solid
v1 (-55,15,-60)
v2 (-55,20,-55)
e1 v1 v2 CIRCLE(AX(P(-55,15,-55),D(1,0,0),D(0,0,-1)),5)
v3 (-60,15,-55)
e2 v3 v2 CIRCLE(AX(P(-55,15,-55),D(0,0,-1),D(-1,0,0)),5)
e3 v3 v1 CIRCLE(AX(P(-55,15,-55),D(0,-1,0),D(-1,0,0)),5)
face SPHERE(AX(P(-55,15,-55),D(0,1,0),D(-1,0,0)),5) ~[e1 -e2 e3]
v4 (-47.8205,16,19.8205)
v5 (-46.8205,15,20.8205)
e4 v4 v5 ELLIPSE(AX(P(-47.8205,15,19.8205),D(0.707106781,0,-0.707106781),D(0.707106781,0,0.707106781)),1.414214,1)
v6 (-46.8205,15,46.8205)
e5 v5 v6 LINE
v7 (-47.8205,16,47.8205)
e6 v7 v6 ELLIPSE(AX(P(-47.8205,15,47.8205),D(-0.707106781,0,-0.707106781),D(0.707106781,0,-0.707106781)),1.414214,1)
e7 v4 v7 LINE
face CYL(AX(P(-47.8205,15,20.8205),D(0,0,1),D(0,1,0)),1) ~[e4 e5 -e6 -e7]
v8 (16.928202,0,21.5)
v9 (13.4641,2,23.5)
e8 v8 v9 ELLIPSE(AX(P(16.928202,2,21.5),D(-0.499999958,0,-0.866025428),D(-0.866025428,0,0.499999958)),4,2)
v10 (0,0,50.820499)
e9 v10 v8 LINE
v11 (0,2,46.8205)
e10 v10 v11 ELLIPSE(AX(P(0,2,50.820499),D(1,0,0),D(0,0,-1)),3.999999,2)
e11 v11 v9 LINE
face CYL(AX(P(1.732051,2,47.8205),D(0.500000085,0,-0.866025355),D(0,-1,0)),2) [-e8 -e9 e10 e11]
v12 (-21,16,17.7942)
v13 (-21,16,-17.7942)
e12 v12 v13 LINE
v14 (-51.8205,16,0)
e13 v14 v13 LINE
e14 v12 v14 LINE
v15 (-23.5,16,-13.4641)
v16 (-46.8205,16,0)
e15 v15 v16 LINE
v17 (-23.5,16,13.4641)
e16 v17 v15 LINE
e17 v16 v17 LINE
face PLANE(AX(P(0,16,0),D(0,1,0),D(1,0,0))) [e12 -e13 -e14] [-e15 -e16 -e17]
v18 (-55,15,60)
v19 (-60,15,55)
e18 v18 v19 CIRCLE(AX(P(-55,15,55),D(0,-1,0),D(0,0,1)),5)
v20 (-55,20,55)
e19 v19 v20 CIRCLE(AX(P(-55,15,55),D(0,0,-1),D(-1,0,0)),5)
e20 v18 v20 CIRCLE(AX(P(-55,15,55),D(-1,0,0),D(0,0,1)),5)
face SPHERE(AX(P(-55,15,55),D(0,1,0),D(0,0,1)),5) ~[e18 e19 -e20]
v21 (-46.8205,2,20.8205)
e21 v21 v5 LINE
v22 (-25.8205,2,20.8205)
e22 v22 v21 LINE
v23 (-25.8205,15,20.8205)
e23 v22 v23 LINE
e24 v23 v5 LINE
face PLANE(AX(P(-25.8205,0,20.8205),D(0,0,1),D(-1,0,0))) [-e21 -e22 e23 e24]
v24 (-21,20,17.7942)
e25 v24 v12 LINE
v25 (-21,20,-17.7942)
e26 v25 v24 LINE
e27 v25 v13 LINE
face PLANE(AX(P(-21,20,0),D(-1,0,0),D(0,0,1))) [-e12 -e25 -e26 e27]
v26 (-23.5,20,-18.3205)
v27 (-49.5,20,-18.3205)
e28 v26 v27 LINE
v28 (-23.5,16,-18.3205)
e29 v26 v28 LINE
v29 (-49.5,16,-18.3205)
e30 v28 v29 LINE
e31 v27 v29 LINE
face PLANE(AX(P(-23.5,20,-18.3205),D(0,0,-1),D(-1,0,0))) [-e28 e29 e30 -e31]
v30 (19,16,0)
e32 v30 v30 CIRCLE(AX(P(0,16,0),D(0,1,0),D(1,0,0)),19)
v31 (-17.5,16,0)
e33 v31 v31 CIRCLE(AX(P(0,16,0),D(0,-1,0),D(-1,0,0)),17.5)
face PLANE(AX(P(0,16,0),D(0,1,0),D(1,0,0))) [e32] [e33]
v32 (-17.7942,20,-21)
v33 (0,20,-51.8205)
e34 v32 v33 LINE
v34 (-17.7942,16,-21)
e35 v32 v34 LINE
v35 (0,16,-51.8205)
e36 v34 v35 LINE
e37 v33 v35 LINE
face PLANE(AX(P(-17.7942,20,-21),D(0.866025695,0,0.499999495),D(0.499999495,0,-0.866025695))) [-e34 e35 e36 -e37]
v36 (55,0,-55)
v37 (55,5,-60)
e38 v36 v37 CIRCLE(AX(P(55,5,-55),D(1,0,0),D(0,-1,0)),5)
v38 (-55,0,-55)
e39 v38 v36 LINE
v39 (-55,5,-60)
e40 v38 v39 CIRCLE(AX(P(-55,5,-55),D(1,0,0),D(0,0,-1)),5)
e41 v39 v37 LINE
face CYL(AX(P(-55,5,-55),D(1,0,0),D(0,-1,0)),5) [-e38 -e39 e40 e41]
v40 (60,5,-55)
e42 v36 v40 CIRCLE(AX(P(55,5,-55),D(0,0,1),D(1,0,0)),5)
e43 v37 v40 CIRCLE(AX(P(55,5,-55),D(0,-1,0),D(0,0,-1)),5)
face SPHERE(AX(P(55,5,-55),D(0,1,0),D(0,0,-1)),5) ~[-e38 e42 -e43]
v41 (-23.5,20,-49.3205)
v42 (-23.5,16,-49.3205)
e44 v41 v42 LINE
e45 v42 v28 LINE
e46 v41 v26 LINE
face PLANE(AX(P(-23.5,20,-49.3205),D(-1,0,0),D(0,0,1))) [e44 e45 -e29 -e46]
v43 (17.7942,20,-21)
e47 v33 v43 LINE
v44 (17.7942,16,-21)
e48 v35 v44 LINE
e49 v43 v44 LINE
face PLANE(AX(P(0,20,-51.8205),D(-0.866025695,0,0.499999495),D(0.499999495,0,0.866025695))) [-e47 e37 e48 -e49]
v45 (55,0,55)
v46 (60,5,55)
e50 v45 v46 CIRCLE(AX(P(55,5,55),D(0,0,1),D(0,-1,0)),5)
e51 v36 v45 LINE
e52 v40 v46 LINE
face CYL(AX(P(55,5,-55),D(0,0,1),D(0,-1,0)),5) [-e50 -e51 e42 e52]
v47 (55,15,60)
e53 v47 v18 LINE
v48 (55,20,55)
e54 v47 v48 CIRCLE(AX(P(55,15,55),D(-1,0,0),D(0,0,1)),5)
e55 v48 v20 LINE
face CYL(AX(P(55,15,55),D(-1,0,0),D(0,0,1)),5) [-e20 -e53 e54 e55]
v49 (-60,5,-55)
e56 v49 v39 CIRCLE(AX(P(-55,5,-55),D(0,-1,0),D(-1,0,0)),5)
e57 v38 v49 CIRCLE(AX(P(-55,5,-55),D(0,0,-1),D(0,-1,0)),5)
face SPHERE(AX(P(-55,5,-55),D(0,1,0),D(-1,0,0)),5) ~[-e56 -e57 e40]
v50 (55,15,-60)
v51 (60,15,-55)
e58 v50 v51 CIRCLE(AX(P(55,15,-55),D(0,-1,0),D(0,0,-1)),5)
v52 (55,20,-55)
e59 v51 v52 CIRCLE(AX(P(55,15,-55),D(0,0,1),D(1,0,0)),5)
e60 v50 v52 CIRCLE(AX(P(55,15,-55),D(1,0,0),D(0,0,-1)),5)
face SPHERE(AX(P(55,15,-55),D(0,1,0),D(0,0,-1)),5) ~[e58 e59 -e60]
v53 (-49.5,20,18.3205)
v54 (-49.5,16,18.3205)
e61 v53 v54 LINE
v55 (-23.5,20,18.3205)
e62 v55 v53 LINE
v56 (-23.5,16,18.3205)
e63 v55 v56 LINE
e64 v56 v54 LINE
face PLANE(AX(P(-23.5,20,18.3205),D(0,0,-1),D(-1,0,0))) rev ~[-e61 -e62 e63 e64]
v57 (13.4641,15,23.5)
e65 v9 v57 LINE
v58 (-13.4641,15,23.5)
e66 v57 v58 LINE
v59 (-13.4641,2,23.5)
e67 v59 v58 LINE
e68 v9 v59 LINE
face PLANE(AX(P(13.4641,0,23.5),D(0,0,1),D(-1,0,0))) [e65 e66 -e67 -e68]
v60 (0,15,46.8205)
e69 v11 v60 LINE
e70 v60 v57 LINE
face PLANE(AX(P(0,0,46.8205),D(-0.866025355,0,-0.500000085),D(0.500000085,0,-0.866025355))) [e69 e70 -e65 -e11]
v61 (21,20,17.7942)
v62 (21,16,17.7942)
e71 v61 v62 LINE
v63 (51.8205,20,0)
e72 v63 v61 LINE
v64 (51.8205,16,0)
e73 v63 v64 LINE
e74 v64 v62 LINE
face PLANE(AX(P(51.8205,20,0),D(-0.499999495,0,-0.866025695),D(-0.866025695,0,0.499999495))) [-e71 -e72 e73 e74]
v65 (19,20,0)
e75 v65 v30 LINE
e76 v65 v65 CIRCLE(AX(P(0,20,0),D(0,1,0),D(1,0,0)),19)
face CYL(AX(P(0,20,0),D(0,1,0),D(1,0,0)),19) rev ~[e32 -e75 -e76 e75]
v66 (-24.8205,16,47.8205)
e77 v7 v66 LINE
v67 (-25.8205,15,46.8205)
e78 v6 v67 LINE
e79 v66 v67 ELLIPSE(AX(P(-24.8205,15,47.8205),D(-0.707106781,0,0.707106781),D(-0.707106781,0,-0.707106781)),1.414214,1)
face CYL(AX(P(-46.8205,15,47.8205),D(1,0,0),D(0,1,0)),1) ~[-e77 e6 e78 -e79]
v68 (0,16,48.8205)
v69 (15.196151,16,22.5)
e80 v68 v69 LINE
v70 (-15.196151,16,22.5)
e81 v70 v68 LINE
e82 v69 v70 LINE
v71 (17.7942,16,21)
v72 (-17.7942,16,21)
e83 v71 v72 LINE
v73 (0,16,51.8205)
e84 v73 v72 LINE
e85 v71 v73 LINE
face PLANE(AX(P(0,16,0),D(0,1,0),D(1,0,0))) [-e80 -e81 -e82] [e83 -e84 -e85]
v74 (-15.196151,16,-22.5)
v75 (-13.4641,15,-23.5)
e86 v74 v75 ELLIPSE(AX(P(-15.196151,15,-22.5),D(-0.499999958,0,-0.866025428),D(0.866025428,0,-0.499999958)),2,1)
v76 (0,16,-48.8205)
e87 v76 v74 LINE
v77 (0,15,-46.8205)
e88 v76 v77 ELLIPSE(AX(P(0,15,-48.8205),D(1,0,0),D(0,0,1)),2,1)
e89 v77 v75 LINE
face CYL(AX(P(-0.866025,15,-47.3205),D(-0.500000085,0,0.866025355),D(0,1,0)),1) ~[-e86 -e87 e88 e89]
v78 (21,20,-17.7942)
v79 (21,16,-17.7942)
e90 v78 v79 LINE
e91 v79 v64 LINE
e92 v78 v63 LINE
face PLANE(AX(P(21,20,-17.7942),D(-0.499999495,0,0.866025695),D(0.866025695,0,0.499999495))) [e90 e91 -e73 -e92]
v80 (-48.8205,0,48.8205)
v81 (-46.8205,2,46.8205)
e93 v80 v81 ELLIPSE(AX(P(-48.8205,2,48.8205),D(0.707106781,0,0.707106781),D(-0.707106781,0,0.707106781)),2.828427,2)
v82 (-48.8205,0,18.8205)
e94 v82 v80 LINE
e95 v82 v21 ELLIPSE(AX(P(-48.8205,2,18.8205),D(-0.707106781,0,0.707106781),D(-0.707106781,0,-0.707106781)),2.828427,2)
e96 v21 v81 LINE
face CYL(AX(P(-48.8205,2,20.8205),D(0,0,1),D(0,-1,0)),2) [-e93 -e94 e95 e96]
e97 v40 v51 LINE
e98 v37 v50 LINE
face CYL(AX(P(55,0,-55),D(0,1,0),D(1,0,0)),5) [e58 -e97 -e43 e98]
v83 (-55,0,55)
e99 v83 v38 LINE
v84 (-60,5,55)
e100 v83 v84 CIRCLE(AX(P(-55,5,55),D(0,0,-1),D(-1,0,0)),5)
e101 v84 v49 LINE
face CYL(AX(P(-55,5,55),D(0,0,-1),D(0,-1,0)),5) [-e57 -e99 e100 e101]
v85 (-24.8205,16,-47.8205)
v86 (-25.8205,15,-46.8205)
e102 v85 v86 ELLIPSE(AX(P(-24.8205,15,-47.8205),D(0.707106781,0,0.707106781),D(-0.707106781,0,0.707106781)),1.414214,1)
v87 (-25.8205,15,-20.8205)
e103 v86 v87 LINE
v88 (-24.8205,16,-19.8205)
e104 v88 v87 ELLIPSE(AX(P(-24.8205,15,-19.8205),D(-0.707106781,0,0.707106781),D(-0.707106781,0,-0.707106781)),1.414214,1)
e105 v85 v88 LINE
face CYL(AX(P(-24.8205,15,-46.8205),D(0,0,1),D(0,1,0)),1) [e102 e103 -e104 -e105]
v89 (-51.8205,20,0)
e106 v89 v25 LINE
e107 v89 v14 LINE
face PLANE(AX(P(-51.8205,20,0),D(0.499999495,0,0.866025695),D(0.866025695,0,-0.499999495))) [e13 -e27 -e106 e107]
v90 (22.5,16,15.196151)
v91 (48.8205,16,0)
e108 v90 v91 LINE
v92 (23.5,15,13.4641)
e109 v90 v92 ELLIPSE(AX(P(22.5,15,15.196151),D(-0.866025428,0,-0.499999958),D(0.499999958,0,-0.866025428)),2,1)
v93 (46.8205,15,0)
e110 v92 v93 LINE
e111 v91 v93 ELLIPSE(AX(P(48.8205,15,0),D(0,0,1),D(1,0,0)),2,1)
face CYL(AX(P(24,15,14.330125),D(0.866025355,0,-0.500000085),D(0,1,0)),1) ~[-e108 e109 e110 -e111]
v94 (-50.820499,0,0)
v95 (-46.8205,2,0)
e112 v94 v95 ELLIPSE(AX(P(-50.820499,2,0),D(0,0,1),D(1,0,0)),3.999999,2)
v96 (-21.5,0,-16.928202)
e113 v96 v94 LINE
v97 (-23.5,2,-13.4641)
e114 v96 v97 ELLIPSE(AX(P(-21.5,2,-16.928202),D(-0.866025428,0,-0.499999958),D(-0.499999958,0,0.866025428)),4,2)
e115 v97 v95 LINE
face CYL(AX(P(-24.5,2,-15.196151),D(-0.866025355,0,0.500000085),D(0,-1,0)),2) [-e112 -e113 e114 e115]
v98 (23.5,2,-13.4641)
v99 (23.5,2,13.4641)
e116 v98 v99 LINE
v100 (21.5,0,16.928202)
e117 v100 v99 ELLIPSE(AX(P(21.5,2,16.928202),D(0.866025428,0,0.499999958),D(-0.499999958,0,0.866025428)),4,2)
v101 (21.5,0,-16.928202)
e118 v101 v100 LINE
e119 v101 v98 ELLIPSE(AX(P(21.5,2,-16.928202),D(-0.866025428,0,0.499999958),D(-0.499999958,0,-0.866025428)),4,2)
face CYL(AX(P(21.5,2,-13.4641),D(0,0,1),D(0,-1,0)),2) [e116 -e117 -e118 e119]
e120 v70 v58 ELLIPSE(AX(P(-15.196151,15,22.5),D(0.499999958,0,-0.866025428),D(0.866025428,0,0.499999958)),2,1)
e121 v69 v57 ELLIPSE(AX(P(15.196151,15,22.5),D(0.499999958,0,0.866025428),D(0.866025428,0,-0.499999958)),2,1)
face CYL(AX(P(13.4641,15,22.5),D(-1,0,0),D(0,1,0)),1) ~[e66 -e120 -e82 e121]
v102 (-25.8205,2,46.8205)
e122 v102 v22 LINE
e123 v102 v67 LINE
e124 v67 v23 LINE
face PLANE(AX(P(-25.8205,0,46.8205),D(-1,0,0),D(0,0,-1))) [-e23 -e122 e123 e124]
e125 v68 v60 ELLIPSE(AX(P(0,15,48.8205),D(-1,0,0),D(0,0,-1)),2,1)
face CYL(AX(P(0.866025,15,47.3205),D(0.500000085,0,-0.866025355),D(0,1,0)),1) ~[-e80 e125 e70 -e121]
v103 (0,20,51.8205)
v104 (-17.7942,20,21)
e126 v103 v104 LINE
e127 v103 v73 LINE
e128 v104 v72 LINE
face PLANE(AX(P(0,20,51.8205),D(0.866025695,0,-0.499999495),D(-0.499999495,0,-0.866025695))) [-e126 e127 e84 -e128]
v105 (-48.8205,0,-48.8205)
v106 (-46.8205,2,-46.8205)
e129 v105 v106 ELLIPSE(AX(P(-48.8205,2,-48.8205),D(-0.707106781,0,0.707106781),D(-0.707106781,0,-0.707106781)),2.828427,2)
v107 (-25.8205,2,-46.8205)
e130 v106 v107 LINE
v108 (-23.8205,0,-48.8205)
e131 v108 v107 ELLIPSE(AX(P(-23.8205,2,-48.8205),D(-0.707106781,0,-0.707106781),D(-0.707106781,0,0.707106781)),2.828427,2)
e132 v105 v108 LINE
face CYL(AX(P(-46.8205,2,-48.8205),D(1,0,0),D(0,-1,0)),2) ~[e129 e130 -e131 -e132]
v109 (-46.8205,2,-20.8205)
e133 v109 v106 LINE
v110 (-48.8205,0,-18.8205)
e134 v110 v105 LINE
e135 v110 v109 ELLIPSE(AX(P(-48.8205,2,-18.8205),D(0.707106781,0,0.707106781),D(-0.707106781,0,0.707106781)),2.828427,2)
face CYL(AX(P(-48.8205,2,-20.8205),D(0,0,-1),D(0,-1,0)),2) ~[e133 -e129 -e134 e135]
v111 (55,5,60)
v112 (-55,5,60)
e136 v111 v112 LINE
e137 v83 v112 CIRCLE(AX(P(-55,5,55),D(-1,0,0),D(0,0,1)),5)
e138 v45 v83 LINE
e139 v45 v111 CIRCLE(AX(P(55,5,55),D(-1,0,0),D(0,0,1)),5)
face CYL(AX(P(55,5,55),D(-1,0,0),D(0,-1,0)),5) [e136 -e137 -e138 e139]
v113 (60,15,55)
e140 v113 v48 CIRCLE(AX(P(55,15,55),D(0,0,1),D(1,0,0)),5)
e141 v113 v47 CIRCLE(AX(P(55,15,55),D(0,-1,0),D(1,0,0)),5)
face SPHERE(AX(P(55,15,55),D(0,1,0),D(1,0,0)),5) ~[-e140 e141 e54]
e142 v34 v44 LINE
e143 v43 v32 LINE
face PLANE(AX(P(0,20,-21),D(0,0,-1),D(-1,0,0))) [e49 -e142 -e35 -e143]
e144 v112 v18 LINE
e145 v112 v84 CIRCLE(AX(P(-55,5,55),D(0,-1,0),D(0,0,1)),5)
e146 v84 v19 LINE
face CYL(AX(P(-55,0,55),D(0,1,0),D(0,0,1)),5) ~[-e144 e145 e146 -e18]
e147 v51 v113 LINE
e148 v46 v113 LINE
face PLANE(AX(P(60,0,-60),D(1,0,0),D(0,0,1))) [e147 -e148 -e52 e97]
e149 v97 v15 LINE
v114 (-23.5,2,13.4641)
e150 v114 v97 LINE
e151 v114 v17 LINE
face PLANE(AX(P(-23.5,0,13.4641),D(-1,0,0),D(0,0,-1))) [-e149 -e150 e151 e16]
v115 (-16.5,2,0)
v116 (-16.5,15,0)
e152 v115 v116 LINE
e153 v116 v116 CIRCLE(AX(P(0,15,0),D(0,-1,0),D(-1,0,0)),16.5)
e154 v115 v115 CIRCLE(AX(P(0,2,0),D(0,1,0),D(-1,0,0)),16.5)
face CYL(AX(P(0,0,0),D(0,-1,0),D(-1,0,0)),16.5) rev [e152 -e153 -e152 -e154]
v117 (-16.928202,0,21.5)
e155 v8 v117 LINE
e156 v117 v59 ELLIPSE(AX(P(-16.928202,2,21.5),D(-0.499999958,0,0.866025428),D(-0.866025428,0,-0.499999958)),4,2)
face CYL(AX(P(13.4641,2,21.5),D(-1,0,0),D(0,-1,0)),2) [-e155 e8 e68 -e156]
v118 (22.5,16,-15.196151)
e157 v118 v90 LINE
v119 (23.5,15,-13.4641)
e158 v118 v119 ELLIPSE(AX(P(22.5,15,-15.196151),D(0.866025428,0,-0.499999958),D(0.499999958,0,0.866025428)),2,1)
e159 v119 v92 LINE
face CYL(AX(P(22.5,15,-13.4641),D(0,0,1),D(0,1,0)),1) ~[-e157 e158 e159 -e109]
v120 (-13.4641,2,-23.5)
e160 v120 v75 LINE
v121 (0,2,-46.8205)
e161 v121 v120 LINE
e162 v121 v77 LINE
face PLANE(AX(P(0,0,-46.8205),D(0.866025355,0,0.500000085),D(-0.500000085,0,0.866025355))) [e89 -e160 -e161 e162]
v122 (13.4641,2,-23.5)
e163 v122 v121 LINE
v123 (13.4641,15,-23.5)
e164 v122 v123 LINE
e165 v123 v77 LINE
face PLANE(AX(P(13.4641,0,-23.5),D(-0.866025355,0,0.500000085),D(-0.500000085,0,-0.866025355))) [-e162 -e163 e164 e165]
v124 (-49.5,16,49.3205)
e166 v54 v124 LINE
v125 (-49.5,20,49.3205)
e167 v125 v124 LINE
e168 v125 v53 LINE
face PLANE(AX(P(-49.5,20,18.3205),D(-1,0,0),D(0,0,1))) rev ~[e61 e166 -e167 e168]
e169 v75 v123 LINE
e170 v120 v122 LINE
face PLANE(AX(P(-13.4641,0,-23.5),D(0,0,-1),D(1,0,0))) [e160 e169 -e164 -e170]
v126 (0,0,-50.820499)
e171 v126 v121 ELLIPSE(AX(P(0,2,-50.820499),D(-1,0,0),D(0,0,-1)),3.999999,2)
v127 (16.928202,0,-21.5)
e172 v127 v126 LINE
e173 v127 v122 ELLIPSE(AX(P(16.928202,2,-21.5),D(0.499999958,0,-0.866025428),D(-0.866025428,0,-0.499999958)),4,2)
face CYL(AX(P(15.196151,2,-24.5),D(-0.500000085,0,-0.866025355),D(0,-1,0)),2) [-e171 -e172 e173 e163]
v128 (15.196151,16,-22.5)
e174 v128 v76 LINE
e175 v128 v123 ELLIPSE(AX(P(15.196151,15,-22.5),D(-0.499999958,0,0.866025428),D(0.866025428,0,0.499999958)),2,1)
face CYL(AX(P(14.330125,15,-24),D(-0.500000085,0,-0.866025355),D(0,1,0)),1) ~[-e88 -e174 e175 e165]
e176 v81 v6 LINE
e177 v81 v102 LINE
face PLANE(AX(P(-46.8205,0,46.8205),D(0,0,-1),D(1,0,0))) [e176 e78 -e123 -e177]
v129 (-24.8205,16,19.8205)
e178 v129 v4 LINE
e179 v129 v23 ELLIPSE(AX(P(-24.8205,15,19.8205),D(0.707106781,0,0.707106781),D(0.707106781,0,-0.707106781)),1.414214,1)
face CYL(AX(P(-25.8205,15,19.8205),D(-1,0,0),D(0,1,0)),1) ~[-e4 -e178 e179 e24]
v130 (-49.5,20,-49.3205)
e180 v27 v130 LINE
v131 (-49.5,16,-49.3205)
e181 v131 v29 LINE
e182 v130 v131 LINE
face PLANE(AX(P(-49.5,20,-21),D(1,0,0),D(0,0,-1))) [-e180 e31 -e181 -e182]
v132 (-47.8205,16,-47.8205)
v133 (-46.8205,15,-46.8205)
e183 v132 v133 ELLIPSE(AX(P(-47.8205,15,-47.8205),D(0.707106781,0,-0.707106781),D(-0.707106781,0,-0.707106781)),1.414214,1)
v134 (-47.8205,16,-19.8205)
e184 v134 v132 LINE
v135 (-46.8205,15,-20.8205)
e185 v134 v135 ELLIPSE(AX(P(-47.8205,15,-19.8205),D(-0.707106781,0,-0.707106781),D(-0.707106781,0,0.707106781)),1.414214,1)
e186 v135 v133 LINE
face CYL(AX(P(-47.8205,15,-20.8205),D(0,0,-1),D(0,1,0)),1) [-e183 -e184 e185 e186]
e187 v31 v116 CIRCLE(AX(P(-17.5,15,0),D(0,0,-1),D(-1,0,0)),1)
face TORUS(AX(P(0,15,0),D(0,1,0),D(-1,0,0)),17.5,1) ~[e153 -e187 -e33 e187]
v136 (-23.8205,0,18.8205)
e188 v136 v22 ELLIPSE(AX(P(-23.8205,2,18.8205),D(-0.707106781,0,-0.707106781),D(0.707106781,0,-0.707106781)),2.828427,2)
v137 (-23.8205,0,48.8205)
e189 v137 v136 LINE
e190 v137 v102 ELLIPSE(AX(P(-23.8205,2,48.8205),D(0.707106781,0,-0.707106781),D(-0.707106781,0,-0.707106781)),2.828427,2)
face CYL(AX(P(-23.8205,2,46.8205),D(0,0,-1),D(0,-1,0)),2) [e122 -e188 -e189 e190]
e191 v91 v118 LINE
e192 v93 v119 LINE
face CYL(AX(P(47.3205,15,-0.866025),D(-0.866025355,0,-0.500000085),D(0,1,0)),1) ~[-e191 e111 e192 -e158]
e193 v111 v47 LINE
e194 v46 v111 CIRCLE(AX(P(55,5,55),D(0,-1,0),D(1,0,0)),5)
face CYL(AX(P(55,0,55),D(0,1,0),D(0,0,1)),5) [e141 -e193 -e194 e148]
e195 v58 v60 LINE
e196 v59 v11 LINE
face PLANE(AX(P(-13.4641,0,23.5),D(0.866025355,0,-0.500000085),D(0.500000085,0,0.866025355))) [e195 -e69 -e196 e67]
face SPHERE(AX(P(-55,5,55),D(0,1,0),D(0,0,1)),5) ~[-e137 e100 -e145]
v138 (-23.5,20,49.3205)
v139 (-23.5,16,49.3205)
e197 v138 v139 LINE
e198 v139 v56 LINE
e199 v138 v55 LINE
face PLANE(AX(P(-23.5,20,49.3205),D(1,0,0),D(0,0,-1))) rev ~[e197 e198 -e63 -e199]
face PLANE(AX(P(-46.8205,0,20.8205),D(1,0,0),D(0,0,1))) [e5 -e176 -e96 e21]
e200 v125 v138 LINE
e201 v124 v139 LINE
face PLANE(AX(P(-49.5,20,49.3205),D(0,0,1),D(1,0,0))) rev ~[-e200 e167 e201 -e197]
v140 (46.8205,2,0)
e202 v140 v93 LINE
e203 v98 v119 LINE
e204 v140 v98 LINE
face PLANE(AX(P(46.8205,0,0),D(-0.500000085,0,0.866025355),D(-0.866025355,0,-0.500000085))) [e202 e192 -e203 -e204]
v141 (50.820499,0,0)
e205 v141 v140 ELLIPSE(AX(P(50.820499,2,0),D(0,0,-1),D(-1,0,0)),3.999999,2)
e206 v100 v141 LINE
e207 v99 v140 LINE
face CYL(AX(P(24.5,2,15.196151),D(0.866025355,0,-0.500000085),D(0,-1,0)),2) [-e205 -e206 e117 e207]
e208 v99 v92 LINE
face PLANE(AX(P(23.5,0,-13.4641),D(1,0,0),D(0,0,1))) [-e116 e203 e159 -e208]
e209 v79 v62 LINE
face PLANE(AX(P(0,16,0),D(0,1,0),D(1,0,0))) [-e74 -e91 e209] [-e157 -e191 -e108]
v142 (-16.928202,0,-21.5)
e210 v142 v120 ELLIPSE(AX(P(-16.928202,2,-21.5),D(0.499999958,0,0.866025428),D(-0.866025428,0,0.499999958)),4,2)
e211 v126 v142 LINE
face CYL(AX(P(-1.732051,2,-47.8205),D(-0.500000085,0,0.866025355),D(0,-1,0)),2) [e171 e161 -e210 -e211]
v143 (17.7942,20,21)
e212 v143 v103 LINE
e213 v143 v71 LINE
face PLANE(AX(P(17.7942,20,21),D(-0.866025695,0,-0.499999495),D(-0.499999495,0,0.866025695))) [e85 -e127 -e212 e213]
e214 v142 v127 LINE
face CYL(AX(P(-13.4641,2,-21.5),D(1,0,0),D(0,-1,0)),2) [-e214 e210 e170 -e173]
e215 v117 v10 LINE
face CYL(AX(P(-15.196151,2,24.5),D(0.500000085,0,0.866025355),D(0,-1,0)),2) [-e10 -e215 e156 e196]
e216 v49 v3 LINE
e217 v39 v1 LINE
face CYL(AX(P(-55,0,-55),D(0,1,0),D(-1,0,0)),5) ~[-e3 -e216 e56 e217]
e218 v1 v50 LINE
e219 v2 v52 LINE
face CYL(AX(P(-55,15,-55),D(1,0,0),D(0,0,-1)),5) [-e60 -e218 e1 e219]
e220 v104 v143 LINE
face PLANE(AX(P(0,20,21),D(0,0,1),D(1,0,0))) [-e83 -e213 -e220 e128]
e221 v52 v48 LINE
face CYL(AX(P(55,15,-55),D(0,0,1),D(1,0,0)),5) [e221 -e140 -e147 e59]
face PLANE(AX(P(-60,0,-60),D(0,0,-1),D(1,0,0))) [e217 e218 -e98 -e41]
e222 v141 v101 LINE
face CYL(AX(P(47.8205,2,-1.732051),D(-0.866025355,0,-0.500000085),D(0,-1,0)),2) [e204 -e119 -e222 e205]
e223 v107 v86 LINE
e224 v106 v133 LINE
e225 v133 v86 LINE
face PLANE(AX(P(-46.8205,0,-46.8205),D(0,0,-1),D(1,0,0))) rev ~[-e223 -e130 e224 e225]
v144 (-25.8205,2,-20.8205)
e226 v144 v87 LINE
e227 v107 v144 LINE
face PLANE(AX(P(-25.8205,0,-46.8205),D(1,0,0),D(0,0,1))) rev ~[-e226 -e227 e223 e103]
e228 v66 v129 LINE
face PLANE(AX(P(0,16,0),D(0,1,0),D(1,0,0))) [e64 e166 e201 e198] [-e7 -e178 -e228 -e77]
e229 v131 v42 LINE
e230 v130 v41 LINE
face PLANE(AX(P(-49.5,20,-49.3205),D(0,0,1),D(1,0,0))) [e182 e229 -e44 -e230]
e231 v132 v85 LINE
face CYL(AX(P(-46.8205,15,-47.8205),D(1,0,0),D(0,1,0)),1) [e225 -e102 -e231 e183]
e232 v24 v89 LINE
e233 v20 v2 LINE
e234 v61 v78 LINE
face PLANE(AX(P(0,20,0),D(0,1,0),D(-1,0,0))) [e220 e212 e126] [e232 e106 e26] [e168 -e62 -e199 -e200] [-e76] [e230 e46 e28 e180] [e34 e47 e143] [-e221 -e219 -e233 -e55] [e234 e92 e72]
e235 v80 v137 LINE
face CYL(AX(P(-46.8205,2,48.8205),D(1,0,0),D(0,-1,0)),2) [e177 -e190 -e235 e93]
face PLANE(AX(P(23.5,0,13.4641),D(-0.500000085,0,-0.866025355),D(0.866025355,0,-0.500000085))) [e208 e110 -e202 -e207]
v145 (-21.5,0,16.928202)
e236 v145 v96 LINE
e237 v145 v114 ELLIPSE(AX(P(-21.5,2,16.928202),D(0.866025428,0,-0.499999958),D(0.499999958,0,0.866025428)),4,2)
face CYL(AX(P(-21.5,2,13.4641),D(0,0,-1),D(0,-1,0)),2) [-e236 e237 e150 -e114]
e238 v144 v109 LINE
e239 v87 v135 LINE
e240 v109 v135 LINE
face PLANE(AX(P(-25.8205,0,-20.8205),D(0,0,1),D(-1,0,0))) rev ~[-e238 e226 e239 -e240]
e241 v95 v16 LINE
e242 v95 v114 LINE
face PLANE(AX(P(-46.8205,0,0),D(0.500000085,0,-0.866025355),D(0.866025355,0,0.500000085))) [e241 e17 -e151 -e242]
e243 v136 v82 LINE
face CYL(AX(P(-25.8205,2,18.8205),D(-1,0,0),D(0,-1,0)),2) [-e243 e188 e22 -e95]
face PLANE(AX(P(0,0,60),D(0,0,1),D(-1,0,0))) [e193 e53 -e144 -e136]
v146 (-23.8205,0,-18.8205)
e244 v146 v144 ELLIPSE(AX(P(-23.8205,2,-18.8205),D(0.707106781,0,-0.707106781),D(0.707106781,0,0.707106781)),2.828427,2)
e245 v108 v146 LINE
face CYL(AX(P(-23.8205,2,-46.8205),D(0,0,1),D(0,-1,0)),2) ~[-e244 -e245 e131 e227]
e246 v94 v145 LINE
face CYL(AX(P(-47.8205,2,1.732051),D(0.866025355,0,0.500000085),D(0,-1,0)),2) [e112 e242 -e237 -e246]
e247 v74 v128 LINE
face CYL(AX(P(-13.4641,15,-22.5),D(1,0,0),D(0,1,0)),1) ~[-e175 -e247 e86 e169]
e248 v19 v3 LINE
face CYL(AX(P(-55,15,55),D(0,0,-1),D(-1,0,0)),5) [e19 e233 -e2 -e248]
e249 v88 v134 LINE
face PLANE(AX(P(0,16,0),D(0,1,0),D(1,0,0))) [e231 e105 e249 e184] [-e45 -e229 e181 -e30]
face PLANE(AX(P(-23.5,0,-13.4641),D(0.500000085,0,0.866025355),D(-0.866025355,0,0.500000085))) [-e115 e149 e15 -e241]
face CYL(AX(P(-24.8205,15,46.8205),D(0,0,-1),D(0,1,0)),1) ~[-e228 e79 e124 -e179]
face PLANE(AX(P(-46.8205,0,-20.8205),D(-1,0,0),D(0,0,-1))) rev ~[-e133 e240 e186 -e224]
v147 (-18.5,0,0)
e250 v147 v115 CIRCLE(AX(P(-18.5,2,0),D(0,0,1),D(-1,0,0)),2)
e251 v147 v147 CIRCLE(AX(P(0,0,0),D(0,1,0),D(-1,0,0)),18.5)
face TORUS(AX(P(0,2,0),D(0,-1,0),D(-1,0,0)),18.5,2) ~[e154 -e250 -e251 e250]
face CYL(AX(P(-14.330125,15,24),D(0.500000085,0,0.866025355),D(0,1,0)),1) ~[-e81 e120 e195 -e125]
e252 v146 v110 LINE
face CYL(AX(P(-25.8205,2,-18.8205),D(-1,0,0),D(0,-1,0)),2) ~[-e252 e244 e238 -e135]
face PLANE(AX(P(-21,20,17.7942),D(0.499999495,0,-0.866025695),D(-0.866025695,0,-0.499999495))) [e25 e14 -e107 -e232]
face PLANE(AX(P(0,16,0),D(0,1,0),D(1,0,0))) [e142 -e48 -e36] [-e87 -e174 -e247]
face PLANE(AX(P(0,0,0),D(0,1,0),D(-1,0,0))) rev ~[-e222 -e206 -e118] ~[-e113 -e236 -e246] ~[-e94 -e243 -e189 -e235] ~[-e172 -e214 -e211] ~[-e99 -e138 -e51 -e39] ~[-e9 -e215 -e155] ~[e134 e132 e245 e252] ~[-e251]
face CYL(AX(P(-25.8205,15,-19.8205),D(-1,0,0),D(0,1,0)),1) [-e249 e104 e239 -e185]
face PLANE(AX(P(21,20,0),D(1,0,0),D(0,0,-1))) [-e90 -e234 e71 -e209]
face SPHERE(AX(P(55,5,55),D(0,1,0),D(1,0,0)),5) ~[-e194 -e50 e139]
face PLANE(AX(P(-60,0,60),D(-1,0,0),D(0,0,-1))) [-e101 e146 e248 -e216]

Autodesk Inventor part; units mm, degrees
ref_plane "YZ Plane" through (0, 0, 0) normal (1, 0, 0) x (0, 1, 0)
ref_plane "XZ Plane" through (0, 0, 0) normal (0, 1, 0) x (-1, 0, 0)
ref_plane "XY Plane" through (0, 0, 0) normal (0, 0, 1) x (1, 0, 0)
sketch "Sketch1" plane through (0, 0, 0) normal (0, 1, 0) x (-1, 0, 0)
  circle A0 centre (0, 0) radius 15
  line L0 (0, -25) -> (10.866, -25)
  line L1 (0, -25) -> (-10.866, -25)
  line L2 (-10.866, -25) -> (0, -43.8205)
  line L3 (0, -43.8205) -> (10.866, -25)
  circle A1 centre (0, 0) radius 16.5
  line L4 (13.4641, -23.5) -> (0, -23.5)
  line L5 (0, -23.5) -> (-13.4641, -23.5)
  line L6 (-13.4641, -23.5) -> (0, -46.8205)
  line L7 (0, -46.8205) -> (13.4641, -23.5)
  line L8 (25, 0) -> (25, 10.866)
  line L9 (25, 0) -> (25, -10.866)
  line L10 (25, -10.866) -> (43.8205, 0)
  line L11 (43.8205, 0) -> (25, 10.866)
  line L12 (23.5, 13.4641) -> (23.5, 0)
  line L13 (23.5, 0) -> (23.5, -13.4641)
  line L14 (23.5, -13.4641) -> (46.8205, 0)
  line L15 (46.8205, 0) -> (23.5, 13.4641)
  line L16 (0, 25) -> (-10.866, 25)
  line L17 (0, 25) -> (10.866, 25)
  line L18 (10.866, 25) -> (0, 43.8205)
  line L19 (0, 43.8205) -> (-10.866, 25)
  line L20 (-13.4641, 23.5) -> (0, 23.5)
  line L21 (0, 23.5) -> (13.4641, 23.5)
  line L22 (13.4641, 23.5) -> (0, 46.8205)
  line L23 (0, 46.8205) -> (-13.4641, 23.5)
  line L24 (-25, 0) -> (-25, -10.866)
  line L25 (-25, 0) -> (-25, 10.866)
  line L26 (-25, 10.866) -> (-43.8205, 0)
  line L27 (-43.8205, 0) -> (-25, -10.866)
  line L28 (-23.5, -13.4641) -> (-23.5, 0)
  line L29 (-23.5, 0) -> (-23.5, 13.4641)
  line L30 (-23.5, 13.4641) -> (-46.8205, 0)
  line L31 (-46.8205, 0) -> (-23.5, -13.4641)
  line L32 (46.8205, 46.8205) -> (25.8205, 46.8205)
  line L33 (25.8205, 46.8205) -> (25.8205, 20.8205)
  line L34 (25.8205, 20.8205) -> (46.8205, 20.8205)
  line L35 (46.8205, 20.8205) -> (46.8205, 46.8205)
  line L36 (46.8205, -46.8205) -> (25.8205, -46.8205)
  line L37 (25.8205, -46.8205) -> (25.8205, -20.8205)
  line L38 (25.8205, -20.8205) -> (46.8205, -20.8205)
  line L39 (46.8205, -20.8205) -> (46.8205, -46.8205)
  line L40 (27.3205, 22.3205) -> (27.3205, 45.3205)
  line L41 (27.3205, 45.3205) -> (45.3205, 45.3205)
  line L42 (45.3205, 45.3205) -> (45.3205, 22.3205)
  line L43 (45.3205, 22.3205) -> (27.3205, 22.3205)
  line L44 (45.3205, -45.3205) -> (27.3205, -45.3205)
  line L45 (27.3205, -45.3205) -> (27.3205, -22.3205)
  line L46 (27.3205, -22.3205) -> (45.3205, -22.3205)
  line L47 (45.3205, -22.3205) -> (45.3205, -45.3205)
  line L48 (0, 60) -> (60, 60)
  line L49 (60, 60) -> (60, -60)
  line L50 (60, -60) -> (-60, -60)
  line L51 (-60, -60) -> (-60, 60)
  line L52 (-60, 60) -> (0, 60)
  dimension "d0" = 30
  dimension "d5" = 33
  dimension "d6" = 1.5
  dimension "d10" = 360
  dimension "d12" = 21
  dimension "d13" = 26
  dimension "d14" = 21
  dimension "d15" = 26
  dimension "d16" = 1.5
  dimension "d17" = 1.5
  dimension "d18" = 60
  dimension "d19" = 120
  dimension "d20" = 120
  dimension "d21" = 120
extrude "Extrusion1" add sketch "Sketch1" along normal blind 20 contours L48 L49 L50 L51 L52
sketch "Sketch2" plane through (0, 20, 0) normal (0, 1, 0) x (1, 0, 0)
  line L0 (-49.5, -21) -> (-49.5, -49.3205)
  line L1 (-49.5, -49.3205) -> (-23.5, -49.3205)
  line L2 (-23.5, -49.3205) -> (-23.5, -18.3205)
  line L3 (-23.5, -18.3205) -> (-49.5, -18.3205)
  line L4 (-49.5, -18.3205) -> (-49.5, -49.3205)
  line L5 (-49.5, 21) -> (-49.5, 49.3205)
  line L6 (-49.5, 49.3205) -> (-23.5, 49.3205)
  line L7 (-23.5, 49.3205) -> (-23.5, 18.3205)
  line L8 (-23.5, 18.3205) -> (-49.5, 18.3205)
  line L9 (-49.5, 18.3205) -> (-49.5, 49.3205)
  line L10 (-21, 0) -> (-21, 17.7942)
  line L11 (-51.8205, 0) -> (-21, 17.7942)
  line L12 (-21, -17.7942) -> (-51.8205, 0)
  line L13 (-21, 0) -> (-21, -17.7942)
  line L14 (0, -21) -> (-17.7942, -21)
  line L15 (0, -51.8205) -> (-17.7942, -21)
  line L16 (17.7942, -21) -> (0, -51.8205)
  line L17 (0, -21) -> (17.7942, -21)
  line L18 (21, 0) -> (21, -17.7942)
  line L19 (51.8205, 0) -> (21, -17.7942)
  line L20 (21, 17.7942) -> (51.8205, 0)
  line L21 (21, 0) -> (21, 17.7942)
  line L22 (0, 21) -> (17.7942, 21)
  line L23 (0, 51.8205) -> (17.7942, 21)
  line L24 (-17.7942, 21) -> (0, 51.8205)
  line L25 (0, 21) -> (-17.7942, 21)
  circle A0 centre (0, 0) radius 19
  point P0 (-25.8205, -46.8205)
  point P1 (-25.8205, 46.8205)
  dimension "d34" = 360
extrude "Extrusion2" cut sketch "Sketch2" against normal blind 4
fillet "Fillet1" radius 5 4 edges at (-60, 10, -60) (60, 10, -60) (60, 10, 60) (-60, 10, 60)
fillet "Fillet2" radius 5 8 edges at (-58.5355, 0, 58.5355) (-60, 0, 0) (-58.5355, 0, -58.5355) (0, 0, -60) (58.5355, 0, -58.5355) (60, 0, 0) (58.5355, 0, 58.5355) (0, 0, 60)
fillet "Fillet3" radius 2 21 edges at (-35.1603, 0, 6.7321) (-35.1603, 0, -6.7321) (-23.5, 0, 0) (-25.8205, 0, -33.8205) (-36.3205, 0, -20.8205) (-46.8205, 0, -33.8205) (-36.3205, 0, -46.8205) (6.7321, 0, -35.1603) (-6.7321, 0, -35.1603) (0, 0, -23.5) (35.1603, 0, -6.7321) (23.5, 0, 0) (35.1603, 0, 6.7321) (16.5, 0, 0) (0, 0, 23.5) (6.7321, 0, 35.1603) (-6.7321, 0, 35.1603) (-25.8205, 0, 33.8205) (-36.3205, 0, 20.8205) (-46.8205, 0, 33.8205) (-36.3205, 0, 46.8205)
fillet "Fillet4" radius 5 8 edges at (-58.5355, 20, 58.5355) (0, 20, 60) (58.5355, 20, 58.5355) (60, 20, 0) (58.5355, 20, -58.5355) (0, 20, -60) (-58.5355, 20, -58.5355) (-60, 20, 0)
fillet "Fillet5" radius 1 18 edges at (16.5, 16, 0) (-25.8205, 16, 33.8205) (-36.3205, 16, 46.8205) (-46.8205, 16, 33.8205) (-36.3205, 16, 20.8205) (-36.3205, 16, -20.8205) (-46.8205, 16, -33.8205) (-25.8205, 16, -33.8205) (-36.3205, 16, -46.8205) (0, 16, -23.5) (-6.7321, 16, -35.1603) (6.7321, 16, -35.1603) (6.7321, 16, 35.1603) (-6.7321, 16, 35.1603) (0, 16, 23.5) (35.1603, 16, 6.7321) (23.5, 16, 0) (35.1603, 16, -6.7321)
properties part number "Vo_Nut_Bam" material "Water"
